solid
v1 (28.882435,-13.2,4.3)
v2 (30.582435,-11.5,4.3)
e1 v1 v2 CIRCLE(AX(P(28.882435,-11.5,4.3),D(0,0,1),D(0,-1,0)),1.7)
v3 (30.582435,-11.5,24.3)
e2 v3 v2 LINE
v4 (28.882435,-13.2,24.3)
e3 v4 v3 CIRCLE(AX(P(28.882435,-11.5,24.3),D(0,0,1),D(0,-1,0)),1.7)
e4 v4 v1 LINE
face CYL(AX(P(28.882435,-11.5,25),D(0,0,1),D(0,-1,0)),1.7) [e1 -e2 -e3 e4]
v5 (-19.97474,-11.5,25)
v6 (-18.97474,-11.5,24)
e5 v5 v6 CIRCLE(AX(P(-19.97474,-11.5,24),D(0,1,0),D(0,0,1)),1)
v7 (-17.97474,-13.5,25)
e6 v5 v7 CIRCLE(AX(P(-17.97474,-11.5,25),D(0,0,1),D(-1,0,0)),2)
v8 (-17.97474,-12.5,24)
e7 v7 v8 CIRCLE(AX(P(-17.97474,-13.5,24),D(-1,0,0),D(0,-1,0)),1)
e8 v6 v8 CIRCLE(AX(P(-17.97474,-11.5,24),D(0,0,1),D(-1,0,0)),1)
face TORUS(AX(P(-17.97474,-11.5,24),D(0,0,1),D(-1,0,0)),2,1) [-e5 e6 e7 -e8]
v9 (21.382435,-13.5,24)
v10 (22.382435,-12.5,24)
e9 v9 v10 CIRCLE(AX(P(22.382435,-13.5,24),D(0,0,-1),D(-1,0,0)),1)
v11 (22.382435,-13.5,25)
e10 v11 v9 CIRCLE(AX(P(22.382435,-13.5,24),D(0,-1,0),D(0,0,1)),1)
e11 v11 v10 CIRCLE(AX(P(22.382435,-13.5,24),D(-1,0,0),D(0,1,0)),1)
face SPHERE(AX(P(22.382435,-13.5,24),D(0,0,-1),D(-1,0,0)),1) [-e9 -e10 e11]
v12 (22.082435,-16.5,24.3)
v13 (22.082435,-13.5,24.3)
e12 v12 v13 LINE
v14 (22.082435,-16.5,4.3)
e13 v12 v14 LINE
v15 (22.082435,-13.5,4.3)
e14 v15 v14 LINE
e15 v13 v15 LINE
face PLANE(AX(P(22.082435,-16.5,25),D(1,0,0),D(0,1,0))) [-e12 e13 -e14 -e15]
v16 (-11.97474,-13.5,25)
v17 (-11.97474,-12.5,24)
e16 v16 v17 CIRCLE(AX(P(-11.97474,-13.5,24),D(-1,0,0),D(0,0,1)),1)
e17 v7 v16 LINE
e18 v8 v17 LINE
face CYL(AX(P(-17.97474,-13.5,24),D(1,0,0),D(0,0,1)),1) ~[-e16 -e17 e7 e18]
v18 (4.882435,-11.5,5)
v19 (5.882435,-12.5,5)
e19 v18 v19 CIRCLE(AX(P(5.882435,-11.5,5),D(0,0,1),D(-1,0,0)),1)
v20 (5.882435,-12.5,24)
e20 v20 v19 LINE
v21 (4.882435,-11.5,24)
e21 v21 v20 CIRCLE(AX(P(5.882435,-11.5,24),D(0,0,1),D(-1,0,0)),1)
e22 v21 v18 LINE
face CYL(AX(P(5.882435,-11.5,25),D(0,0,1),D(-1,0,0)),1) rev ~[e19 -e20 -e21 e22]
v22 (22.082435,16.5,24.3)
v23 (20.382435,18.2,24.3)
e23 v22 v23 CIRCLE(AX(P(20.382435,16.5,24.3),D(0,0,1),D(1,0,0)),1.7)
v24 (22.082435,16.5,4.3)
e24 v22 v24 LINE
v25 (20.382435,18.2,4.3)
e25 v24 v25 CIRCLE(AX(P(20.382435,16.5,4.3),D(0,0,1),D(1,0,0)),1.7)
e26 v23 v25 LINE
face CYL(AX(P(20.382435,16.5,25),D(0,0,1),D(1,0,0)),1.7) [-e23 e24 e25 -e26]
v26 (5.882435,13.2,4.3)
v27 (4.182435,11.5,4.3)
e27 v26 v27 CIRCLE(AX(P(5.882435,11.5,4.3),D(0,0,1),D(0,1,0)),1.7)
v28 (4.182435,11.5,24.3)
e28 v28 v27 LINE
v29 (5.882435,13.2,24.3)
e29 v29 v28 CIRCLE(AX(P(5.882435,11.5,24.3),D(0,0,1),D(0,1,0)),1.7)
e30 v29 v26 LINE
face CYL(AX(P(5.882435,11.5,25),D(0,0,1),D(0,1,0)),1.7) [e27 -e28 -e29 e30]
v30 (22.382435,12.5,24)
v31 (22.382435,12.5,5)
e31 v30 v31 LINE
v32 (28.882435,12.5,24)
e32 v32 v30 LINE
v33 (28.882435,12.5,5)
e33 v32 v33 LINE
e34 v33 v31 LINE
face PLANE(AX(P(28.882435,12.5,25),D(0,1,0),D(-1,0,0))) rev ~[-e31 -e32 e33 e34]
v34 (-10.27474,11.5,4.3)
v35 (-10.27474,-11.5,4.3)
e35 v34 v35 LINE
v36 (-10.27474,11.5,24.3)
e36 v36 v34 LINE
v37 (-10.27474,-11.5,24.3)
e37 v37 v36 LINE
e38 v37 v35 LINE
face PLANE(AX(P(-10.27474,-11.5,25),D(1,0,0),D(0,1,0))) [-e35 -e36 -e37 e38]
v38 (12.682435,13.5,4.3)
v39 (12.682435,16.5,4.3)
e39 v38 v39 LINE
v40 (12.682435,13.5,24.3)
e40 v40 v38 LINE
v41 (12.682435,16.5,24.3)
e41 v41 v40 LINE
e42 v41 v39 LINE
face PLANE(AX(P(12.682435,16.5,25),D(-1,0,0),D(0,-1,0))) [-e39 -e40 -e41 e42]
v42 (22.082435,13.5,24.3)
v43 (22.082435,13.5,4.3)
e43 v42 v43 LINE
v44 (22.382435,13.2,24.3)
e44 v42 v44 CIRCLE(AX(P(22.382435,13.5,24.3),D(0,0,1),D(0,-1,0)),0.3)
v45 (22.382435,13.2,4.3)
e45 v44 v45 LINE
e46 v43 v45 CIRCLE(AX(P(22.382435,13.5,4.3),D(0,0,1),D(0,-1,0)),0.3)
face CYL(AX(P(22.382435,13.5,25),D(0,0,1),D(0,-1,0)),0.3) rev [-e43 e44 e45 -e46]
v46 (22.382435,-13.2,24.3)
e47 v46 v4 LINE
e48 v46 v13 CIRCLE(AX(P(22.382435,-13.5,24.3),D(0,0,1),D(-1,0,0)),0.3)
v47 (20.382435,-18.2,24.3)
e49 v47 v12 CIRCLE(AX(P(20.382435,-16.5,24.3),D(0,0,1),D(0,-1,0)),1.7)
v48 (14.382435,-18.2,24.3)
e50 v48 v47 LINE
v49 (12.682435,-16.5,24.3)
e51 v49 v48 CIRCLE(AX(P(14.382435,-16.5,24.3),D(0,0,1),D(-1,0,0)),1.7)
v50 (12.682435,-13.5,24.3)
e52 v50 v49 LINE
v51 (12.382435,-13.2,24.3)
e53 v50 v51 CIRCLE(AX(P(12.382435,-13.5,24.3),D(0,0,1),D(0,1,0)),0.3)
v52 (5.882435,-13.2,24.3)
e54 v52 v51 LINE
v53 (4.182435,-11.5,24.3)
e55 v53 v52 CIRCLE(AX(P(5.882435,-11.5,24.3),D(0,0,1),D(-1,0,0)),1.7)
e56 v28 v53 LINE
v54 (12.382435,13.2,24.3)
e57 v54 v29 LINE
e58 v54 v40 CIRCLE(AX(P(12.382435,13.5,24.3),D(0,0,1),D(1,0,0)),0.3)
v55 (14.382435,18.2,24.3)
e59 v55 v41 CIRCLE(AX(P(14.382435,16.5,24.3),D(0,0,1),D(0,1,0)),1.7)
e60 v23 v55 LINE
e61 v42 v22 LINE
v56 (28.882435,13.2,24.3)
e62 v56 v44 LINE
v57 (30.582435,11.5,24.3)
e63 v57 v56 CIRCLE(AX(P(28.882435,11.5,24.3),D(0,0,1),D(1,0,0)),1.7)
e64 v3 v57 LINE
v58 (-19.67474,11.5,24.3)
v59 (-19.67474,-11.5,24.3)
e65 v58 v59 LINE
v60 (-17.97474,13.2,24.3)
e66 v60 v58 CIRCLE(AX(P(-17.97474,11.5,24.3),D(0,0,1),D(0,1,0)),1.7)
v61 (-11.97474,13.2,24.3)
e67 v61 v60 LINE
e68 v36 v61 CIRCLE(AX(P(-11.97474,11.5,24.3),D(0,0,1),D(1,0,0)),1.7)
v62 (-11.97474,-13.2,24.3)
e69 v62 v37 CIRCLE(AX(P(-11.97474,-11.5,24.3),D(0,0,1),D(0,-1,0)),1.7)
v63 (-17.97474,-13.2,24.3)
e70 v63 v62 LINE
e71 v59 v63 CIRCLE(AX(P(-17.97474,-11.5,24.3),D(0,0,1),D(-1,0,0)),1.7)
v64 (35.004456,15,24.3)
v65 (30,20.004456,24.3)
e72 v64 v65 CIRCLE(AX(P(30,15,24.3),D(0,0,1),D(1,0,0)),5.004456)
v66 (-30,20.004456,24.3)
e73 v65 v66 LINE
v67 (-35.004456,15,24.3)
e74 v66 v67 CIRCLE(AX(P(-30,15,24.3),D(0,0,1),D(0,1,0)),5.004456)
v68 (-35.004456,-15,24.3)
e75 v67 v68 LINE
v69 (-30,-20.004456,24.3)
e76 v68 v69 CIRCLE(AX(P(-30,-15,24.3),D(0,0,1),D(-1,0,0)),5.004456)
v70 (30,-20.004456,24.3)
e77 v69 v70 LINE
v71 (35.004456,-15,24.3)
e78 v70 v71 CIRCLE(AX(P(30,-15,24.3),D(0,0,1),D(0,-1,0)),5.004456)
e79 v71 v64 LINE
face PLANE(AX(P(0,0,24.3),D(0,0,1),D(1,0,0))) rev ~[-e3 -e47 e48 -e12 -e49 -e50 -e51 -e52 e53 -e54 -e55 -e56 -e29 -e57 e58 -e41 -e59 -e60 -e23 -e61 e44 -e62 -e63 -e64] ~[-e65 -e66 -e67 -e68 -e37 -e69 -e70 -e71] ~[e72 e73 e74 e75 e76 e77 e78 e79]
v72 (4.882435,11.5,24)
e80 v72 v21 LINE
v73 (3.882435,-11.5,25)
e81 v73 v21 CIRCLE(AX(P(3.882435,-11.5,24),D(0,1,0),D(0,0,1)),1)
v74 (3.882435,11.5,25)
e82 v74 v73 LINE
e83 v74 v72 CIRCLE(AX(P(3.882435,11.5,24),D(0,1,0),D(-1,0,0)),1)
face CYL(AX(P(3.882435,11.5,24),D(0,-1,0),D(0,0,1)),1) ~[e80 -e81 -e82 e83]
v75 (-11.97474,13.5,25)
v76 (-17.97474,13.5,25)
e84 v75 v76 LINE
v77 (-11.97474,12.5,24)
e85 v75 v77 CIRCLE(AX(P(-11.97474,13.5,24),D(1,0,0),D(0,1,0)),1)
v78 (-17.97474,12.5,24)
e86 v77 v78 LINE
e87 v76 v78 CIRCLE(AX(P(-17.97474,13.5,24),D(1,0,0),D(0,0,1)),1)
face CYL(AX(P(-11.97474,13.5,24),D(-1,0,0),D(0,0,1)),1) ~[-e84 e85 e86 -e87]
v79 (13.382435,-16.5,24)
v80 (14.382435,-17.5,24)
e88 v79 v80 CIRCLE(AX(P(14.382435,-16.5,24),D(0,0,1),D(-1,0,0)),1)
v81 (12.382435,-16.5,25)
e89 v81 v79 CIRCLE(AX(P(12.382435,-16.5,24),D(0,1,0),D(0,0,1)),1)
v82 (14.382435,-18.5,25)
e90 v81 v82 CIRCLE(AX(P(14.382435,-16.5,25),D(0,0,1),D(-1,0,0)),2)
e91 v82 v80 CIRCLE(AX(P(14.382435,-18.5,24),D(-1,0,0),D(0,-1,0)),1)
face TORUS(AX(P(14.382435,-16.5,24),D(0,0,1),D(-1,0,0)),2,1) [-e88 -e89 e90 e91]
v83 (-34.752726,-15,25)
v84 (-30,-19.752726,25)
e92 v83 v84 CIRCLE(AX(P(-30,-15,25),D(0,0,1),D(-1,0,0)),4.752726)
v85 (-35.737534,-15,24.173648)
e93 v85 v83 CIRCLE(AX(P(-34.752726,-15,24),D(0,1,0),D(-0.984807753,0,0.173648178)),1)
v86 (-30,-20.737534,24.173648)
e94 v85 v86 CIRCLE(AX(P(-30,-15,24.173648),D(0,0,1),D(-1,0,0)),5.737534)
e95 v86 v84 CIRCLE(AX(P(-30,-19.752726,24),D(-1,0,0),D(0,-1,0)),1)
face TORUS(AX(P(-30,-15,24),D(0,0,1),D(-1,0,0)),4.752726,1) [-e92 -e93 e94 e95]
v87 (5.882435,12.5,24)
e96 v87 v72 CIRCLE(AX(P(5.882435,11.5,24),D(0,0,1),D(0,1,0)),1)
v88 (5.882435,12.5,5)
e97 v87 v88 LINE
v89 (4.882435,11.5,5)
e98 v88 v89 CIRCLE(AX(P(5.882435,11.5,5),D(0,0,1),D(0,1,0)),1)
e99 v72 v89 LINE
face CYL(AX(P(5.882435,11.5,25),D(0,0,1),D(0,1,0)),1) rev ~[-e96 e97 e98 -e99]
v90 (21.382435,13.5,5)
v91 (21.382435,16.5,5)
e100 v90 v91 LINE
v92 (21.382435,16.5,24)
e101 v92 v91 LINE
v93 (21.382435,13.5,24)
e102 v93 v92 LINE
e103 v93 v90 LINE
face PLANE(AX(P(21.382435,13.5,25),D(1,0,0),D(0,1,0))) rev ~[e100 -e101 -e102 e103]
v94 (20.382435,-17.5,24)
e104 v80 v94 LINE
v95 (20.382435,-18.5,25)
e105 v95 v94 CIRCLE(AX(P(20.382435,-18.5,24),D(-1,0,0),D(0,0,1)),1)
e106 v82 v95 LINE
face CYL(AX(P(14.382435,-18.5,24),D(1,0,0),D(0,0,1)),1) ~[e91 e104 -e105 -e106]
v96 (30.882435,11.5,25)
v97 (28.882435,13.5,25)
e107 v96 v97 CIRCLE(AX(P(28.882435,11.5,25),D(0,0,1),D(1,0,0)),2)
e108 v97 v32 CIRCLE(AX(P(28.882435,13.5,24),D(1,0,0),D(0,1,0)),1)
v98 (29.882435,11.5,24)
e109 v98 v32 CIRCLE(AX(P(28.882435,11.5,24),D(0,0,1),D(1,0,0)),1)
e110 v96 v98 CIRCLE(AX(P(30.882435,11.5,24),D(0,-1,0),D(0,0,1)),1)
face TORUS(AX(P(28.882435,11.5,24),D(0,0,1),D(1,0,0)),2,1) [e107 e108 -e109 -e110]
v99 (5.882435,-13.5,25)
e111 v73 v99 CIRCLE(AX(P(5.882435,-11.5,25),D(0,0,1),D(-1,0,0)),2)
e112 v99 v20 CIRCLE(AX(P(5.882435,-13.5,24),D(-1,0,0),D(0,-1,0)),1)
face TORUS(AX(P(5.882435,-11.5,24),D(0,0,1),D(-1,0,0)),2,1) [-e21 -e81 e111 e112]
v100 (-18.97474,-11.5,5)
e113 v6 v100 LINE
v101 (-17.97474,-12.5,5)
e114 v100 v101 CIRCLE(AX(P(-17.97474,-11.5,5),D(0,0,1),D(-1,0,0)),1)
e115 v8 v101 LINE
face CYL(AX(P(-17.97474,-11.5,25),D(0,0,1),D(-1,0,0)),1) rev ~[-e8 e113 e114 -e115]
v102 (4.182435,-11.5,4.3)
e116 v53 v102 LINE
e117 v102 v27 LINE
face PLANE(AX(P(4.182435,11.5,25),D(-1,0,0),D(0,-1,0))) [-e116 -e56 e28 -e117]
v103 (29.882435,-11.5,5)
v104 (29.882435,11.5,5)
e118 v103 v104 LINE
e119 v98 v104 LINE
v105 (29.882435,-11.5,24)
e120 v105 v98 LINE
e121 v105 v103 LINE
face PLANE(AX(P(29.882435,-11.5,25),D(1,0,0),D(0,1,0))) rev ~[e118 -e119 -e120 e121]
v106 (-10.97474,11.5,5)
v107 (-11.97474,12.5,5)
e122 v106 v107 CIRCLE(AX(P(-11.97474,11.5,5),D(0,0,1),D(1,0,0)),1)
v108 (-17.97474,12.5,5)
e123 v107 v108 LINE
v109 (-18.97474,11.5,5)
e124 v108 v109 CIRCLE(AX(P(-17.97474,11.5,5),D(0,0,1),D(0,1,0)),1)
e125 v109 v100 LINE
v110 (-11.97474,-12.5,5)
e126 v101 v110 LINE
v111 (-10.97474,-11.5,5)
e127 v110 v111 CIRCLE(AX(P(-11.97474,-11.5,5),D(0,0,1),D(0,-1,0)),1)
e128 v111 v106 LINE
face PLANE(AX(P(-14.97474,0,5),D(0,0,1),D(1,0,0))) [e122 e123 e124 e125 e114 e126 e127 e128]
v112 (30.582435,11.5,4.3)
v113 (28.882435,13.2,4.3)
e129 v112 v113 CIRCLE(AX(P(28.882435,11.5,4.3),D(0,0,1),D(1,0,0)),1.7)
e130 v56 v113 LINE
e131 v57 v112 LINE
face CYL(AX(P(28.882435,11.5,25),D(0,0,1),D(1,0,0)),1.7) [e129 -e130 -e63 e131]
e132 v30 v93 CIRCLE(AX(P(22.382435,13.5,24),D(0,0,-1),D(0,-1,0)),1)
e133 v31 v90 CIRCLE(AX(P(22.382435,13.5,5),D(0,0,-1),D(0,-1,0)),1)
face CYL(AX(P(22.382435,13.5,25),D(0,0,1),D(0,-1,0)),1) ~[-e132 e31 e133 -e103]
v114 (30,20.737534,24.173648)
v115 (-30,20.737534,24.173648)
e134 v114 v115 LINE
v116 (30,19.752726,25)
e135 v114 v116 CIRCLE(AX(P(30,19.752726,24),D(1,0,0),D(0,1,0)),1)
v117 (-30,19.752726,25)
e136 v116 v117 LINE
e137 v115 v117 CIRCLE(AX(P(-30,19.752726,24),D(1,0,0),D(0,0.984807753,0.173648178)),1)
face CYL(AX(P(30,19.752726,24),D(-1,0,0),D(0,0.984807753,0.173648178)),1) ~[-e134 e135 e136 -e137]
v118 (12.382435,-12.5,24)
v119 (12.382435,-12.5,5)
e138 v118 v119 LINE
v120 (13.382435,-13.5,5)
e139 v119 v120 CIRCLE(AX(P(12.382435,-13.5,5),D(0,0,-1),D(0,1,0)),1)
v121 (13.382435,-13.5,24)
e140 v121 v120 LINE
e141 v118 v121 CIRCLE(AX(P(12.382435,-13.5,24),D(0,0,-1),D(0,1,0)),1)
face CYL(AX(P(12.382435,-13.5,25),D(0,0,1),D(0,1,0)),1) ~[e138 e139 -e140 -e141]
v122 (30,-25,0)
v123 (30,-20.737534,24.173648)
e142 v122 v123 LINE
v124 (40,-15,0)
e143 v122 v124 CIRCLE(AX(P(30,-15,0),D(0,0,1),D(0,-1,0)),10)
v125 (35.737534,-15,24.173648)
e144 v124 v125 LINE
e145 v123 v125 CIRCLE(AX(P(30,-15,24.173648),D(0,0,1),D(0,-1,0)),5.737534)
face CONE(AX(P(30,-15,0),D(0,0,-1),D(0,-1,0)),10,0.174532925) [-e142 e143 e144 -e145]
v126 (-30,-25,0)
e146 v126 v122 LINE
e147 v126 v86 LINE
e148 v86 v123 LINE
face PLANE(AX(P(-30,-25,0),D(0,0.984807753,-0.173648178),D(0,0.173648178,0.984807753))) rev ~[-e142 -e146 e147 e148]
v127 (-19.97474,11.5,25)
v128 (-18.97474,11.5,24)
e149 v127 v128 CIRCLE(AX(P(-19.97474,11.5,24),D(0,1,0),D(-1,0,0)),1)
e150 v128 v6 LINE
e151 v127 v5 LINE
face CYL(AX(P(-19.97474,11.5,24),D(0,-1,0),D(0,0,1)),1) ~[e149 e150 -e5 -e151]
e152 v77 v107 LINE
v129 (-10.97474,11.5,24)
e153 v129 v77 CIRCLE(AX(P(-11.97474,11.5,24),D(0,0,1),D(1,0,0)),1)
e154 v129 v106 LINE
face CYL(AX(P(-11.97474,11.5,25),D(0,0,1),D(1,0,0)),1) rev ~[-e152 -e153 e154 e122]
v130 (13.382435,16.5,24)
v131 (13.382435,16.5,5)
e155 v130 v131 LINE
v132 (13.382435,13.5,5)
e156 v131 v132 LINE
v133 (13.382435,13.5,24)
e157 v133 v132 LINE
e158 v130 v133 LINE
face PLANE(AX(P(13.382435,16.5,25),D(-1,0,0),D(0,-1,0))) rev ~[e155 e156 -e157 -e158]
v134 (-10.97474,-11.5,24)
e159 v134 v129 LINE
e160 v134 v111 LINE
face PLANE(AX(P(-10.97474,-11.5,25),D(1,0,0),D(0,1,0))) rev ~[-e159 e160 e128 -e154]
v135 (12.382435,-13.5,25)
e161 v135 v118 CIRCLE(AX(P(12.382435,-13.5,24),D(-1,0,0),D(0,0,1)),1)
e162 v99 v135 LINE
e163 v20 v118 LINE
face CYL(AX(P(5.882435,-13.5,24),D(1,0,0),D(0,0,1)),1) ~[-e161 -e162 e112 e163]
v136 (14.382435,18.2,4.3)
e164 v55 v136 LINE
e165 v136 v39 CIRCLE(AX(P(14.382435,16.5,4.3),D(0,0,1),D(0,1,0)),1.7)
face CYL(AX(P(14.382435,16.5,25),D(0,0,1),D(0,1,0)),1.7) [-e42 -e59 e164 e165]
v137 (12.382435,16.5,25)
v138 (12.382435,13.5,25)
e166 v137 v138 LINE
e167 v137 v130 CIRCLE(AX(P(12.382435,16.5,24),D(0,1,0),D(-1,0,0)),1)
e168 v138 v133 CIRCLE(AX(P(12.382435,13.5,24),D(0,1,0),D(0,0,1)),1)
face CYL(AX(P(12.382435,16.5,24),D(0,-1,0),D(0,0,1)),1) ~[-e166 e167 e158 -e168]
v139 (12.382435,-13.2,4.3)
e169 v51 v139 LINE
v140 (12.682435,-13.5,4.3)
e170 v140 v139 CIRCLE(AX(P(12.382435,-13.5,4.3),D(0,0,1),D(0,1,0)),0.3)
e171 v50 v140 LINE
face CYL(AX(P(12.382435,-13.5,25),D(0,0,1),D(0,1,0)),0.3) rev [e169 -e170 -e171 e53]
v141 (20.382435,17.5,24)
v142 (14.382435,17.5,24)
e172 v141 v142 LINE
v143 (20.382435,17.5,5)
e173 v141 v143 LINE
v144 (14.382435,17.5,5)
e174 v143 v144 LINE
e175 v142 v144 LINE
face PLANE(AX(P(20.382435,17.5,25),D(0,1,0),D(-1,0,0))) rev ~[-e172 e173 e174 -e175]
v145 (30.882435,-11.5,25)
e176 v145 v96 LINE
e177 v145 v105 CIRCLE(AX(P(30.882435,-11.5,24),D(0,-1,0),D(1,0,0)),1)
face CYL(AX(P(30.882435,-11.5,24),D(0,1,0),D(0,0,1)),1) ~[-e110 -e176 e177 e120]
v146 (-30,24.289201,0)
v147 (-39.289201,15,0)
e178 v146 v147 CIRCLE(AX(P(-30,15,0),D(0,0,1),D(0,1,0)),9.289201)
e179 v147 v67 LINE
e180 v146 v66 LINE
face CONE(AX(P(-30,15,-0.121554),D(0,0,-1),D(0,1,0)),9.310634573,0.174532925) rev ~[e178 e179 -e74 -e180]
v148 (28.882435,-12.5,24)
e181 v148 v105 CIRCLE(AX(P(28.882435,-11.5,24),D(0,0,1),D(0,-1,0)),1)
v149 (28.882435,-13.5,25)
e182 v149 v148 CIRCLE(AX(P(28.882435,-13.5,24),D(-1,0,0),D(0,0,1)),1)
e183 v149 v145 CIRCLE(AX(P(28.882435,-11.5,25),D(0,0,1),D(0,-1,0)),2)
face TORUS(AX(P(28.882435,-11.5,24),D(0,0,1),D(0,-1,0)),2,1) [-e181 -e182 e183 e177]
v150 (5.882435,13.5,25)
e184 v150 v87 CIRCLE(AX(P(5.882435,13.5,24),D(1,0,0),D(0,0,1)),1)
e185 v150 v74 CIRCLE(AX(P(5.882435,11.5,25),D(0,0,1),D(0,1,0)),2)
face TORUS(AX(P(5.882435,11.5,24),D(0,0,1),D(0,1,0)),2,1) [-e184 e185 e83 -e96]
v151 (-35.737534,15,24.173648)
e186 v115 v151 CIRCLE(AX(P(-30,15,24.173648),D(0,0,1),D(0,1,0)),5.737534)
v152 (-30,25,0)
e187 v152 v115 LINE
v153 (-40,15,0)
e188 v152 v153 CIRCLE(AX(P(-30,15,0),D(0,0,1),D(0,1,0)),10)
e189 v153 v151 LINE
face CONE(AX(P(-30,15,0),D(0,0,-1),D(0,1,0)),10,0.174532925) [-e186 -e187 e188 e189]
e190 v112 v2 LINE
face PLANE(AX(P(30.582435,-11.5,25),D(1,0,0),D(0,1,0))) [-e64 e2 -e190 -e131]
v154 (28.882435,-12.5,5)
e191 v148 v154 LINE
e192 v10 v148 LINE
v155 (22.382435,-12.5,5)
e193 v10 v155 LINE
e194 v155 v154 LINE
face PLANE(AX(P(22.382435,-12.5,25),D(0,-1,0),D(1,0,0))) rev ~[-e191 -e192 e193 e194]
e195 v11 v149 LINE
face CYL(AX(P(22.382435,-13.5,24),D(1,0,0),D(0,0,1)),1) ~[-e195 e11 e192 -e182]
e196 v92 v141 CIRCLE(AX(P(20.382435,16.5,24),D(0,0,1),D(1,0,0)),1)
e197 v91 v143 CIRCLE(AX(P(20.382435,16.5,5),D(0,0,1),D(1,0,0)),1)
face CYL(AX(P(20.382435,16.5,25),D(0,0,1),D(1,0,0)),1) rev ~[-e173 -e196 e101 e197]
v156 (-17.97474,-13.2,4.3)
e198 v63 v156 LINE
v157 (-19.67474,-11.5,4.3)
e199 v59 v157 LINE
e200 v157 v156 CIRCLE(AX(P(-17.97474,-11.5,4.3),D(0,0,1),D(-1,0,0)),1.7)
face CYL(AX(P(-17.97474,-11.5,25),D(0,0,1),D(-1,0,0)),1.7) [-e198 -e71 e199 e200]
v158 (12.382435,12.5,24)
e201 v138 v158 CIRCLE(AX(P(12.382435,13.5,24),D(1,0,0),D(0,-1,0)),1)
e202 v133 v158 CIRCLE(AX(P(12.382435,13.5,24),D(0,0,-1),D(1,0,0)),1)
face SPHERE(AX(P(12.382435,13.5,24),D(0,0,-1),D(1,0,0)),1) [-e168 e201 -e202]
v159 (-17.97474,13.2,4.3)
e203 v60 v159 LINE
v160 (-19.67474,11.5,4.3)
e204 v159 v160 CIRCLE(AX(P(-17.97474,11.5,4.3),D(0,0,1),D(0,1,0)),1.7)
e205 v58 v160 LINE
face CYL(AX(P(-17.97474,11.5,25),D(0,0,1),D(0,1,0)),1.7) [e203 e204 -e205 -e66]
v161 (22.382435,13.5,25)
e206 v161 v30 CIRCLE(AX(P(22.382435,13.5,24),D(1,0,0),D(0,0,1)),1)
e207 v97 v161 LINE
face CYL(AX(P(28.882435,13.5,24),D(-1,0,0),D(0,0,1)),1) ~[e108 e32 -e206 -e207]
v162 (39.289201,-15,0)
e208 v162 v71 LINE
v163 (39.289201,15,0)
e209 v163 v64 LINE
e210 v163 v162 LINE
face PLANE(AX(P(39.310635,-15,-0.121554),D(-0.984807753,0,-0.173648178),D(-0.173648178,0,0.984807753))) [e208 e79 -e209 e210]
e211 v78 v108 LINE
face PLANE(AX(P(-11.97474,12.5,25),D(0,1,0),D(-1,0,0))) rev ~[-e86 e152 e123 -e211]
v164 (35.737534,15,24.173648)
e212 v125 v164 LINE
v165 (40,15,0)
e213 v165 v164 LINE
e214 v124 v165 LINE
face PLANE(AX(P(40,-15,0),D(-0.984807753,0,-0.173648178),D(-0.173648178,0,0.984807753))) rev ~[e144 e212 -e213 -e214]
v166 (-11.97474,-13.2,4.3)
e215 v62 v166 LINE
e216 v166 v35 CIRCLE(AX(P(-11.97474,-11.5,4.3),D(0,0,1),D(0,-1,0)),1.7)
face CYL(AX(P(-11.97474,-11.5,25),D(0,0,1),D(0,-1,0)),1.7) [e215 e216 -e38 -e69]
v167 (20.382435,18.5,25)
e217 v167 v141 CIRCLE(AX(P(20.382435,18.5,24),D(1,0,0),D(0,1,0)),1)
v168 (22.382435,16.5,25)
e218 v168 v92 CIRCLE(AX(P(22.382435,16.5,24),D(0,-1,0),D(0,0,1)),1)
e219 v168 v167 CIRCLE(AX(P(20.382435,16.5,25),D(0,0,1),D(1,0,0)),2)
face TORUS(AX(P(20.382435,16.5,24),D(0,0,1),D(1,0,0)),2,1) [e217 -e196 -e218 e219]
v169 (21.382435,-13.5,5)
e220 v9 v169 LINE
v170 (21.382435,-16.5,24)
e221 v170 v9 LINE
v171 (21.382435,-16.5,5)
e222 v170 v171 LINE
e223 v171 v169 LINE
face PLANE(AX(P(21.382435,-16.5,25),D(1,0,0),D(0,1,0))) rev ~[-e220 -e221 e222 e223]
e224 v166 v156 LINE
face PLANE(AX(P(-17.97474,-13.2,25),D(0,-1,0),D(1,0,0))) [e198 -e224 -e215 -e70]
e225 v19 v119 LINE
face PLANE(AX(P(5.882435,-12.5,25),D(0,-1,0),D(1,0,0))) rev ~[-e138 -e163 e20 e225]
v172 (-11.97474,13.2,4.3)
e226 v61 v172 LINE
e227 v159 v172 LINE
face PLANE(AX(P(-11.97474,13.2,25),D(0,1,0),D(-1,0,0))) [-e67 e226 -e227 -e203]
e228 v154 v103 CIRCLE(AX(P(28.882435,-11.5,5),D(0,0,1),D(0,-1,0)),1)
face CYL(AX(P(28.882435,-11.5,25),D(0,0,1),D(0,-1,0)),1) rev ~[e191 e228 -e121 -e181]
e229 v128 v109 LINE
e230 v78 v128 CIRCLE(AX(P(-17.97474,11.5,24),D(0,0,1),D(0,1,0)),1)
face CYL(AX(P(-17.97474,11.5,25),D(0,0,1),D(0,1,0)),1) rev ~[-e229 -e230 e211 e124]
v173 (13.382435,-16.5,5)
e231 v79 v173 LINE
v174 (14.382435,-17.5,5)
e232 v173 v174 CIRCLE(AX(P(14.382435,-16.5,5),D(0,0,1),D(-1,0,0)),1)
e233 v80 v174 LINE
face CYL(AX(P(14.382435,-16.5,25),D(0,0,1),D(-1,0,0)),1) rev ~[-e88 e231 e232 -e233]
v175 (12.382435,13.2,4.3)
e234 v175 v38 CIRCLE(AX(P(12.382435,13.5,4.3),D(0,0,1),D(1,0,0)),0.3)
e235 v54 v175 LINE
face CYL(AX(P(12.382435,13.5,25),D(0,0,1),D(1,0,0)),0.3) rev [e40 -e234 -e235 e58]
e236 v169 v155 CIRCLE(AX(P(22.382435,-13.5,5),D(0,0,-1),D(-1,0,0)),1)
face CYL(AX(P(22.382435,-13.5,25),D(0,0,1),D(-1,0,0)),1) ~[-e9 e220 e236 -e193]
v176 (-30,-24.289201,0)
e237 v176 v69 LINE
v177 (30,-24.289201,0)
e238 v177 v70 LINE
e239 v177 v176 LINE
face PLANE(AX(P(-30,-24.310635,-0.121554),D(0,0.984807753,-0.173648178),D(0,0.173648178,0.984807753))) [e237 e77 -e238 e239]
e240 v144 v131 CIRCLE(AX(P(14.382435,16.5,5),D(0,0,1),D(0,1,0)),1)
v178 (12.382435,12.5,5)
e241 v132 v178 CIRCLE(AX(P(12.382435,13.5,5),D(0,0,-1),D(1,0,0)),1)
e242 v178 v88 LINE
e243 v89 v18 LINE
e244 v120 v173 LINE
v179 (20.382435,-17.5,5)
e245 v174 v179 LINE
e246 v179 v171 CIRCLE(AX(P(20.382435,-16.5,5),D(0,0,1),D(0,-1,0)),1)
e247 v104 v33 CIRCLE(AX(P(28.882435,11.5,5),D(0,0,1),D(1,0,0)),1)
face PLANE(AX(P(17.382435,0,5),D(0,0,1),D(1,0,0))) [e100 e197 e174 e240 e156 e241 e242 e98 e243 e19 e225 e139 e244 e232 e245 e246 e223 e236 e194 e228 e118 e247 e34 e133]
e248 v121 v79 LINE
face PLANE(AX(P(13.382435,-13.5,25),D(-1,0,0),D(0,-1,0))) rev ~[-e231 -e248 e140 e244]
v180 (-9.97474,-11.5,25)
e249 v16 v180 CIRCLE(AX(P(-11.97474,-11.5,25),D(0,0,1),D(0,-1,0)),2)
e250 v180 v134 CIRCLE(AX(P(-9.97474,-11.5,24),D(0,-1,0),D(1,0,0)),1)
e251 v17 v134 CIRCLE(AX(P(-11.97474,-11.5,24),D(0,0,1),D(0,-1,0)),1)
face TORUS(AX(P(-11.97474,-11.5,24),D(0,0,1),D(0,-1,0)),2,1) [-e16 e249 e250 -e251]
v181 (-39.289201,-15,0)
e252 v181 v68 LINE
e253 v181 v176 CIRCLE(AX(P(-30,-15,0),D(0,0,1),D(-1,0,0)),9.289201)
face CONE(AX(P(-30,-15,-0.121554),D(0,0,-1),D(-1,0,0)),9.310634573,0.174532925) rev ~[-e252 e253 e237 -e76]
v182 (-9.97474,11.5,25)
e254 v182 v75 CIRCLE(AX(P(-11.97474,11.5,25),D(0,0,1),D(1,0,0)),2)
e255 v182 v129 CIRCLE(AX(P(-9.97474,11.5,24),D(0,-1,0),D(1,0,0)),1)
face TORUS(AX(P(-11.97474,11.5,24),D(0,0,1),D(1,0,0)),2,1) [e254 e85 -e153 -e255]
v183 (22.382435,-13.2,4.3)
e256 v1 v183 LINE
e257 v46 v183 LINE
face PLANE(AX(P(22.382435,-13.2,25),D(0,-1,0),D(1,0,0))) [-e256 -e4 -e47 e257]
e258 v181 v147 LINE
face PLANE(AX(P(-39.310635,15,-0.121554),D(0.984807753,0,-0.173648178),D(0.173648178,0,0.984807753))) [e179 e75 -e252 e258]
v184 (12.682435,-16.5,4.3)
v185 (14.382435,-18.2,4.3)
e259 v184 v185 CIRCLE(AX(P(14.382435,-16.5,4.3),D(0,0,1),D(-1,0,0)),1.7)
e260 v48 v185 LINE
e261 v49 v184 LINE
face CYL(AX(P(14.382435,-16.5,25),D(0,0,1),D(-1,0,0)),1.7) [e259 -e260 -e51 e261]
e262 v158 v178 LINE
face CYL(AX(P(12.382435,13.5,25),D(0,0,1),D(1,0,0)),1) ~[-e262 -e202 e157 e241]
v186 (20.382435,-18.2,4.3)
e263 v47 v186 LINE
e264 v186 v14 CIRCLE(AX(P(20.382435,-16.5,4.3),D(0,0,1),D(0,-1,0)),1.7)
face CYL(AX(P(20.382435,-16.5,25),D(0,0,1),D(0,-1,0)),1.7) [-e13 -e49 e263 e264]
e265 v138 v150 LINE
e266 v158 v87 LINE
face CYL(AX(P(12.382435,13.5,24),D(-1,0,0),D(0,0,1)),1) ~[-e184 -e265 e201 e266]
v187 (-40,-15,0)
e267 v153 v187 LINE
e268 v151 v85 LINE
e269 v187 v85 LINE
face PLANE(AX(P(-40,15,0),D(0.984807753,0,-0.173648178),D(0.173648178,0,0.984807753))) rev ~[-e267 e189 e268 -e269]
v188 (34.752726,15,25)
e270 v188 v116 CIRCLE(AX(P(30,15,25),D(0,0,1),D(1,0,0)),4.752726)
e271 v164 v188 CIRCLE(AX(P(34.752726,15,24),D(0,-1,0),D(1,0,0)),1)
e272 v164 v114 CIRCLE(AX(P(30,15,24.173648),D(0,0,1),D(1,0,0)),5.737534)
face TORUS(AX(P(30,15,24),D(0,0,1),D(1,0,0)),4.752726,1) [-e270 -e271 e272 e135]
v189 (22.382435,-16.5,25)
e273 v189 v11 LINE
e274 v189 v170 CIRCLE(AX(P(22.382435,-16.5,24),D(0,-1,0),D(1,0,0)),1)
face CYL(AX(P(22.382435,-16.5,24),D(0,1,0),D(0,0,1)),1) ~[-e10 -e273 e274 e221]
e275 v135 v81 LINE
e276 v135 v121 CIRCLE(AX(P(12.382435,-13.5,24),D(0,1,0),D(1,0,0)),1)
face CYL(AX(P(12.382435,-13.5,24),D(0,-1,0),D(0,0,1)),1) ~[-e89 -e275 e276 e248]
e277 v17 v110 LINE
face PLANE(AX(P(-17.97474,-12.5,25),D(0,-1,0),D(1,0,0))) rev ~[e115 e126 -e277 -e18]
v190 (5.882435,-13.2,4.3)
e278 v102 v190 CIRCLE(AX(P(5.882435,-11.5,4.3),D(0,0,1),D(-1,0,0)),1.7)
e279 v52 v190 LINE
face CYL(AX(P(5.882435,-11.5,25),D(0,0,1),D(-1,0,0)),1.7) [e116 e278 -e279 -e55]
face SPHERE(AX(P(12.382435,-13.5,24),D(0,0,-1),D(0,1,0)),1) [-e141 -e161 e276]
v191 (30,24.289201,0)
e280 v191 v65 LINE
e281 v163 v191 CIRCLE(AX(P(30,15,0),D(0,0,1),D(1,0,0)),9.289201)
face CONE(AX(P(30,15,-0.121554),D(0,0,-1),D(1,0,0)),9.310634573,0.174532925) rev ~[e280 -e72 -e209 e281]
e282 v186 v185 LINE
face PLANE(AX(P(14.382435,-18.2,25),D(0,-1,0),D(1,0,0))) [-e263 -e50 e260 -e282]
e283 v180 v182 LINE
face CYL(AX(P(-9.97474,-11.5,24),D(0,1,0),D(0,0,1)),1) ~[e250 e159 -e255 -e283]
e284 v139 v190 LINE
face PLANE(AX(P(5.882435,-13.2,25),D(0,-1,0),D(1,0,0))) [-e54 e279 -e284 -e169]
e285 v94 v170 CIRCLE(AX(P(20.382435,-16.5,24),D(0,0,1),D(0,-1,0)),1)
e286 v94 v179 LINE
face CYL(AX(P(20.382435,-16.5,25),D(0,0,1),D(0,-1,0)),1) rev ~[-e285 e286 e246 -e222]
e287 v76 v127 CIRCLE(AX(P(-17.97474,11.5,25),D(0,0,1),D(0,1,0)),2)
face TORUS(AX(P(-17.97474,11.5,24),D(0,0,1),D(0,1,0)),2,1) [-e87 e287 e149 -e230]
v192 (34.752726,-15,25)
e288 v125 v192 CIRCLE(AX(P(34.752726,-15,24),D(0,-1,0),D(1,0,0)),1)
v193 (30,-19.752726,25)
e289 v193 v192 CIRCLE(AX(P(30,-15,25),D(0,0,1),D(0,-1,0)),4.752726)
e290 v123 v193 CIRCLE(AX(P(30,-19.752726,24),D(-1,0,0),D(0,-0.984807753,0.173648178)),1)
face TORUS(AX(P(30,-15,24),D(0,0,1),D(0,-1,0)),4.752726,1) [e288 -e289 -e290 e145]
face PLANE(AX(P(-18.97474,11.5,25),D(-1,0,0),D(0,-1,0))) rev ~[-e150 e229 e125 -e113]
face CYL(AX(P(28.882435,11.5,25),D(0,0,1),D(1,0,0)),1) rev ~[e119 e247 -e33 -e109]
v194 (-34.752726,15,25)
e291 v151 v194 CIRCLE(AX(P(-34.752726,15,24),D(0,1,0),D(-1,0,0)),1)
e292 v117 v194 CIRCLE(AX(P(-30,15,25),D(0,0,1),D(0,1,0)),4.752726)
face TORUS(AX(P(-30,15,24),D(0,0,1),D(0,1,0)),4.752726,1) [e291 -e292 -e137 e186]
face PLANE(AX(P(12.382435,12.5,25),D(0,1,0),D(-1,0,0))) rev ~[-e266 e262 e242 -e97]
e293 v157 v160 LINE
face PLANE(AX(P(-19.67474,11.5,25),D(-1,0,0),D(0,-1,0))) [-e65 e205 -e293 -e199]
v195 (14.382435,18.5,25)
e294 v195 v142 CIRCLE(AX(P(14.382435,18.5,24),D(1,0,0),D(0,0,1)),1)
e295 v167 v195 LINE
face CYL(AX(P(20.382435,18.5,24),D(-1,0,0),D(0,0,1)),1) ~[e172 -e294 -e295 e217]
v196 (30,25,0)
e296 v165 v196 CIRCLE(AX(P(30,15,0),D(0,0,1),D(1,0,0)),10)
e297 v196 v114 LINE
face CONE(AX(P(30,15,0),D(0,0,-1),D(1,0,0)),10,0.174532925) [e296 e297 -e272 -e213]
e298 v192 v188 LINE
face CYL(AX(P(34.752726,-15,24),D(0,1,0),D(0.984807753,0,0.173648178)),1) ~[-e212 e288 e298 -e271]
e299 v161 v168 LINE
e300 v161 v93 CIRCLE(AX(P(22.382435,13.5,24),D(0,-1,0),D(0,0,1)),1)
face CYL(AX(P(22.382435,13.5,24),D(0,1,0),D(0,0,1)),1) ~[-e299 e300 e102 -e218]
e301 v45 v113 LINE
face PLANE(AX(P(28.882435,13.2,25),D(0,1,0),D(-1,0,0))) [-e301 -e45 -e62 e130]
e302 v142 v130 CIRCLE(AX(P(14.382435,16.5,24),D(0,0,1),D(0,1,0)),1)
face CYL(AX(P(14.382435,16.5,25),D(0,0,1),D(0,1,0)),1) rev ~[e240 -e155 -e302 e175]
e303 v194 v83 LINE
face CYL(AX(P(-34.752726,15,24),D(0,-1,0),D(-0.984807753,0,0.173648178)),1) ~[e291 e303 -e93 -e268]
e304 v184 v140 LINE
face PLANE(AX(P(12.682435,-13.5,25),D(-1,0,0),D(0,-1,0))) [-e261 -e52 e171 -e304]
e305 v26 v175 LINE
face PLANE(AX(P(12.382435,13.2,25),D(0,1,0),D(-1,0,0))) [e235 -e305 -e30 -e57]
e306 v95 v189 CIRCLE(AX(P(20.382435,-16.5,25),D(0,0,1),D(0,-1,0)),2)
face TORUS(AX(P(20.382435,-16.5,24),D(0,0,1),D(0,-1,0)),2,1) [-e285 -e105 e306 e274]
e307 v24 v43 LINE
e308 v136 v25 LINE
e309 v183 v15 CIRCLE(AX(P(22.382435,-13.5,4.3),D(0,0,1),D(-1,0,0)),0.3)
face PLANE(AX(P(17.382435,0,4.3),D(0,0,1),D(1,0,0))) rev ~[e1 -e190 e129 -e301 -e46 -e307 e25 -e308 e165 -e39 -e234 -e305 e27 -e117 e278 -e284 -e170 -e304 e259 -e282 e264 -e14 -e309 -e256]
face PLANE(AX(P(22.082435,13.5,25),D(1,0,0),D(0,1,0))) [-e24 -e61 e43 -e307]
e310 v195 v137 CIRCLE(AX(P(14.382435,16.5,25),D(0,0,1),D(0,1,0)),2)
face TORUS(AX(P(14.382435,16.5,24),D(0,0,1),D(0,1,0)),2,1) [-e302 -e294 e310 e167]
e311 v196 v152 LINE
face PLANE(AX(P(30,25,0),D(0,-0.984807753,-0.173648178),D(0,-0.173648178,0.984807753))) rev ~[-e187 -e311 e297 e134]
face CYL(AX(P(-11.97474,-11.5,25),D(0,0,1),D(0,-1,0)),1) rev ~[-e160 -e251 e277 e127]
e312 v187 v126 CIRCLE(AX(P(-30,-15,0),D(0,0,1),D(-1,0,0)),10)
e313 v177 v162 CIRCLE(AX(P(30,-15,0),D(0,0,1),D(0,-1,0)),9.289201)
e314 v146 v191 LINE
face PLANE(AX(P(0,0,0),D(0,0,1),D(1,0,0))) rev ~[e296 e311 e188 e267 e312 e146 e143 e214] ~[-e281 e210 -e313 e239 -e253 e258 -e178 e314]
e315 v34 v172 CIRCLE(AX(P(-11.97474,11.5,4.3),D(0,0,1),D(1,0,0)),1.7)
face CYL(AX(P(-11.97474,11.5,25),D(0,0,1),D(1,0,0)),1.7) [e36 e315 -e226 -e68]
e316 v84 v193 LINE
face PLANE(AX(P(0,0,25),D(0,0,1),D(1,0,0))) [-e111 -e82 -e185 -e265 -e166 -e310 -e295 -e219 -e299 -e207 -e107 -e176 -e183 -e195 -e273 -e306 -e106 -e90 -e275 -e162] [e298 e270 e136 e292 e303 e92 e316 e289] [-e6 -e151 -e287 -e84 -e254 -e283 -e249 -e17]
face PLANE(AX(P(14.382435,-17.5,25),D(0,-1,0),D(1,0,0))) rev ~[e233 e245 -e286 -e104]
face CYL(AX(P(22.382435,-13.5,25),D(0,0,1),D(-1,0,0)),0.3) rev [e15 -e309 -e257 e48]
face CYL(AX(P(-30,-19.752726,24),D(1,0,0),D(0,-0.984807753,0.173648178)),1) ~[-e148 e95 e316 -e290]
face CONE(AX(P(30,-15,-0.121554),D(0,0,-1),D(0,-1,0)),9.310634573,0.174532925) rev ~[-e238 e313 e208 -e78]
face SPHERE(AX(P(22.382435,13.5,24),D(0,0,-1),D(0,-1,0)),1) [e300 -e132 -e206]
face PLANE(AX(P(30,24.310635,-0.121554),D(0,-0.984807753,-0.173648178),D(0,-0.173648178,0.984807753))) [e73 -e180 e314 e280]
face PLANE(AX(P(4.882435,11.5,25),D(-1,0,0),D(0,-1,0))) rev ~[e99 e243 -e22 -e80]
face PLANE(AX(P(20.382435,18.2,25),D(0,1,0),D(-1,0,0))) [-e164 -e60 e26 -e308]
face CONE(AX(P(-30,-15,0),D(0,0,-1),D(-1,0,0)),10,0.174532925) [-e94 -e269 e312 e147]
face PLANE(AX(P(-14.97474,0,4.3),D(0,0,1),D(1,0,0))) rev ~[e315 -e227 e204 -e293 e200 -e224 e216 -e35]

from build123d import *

# Parameters (mm, degrees)
F1_DEPTH = 25
F1_TAPER = 10
F4_DEPTH = 20
F5_DEPTH = 20
F6_T     = -0.7
F7_R     = 1


with BuildPart() as f1:
    # F0 (on Top) → F1 (new body)
    with BuildSketch(Plane.XY):
        with BuildLine():
            ThreePointArc((40, 15), (37.0710678119, 22.0710678119), (30, 25))
            Line((30, 25), (-30, 25))
            ThreePointArc((-30, 25), (-37.0710678119, 22.0710678119), (-40, 15))
            Line((-40, 15), (-40, -15))
            ThreePointArc((-40, -15), (-37.0710678119, -22.0710678119), (-30, -25))
            Line((-30, -25), (30, -25))
            ThreePointArc((30, -25), (37.0710678119, -22.0710678119), (40, -15))
            Line((40, -15), (40, 15))
        make_face()
    extrude(amount=F1_DEPTH, taper=F1_TAPER)

    # F2 (on face) → F4 (cut)
    with BuildSketch(Plane.XY.offset(25)):
        with BuildLine():
            Line((20.3824352339, 17.5), (14.3824352339, 17.5))
            ThreePointArc((14.3824352339, 17.5), (13.6753284527, 17.2071067812), (13.3824352339, 16.5))
            Line((13.3824352339, 16.5), (13.3824352339, 13.5))
            ThreePointArc((13.3824352339, 13.5), (13.0895420151, 12.7928932188), (12.3824352339, 12.5))
            Line((12.3824352339, 12.5), (5.8824352339, 12.5))
            ThreePointArc((5.8824352339, 12.5), (5.1753284527, 12.2071067812), (4.8824352339, 11.5))
            Line((4.8824352339, 11.5), (4.8824352339, -11.5))
            ThreePointArc((4.8824352339, -11.5), (5.1753284527, -12.2071067812), (5.8824352339, -12.5))
            Line((5.8824352339, -12.5), (12.3824352339, -12.5))
            ThreePointArc((12.3824352339, -12.5), (13.0895420151, -12.7928932188), (13.3824352339, -13.5))
            Line((13.3824352339, -13.5), (13.3824352339, -16.5))
            ThreePointArc((13.3824352339, -16.5), (13.6753284527, -17.2071067812), (14.3824352339, -17.5))
            Line((14.3824352339, -17.5), (20.3824352339, -17.5))
            ThreePointArc((20.3824352339, -17.5), (21.0895420151, -17.2071067812), (21.3824352339, -16.5))
            Line((21.3824352339, -16.5), (21.3824352339, -13.5))
            ThreePointArc((21.3824352339, -13.5), (21.6753284527, -12.7928932188), (22.3824352339, -12.5))
            Line((22.3824352339, -12.5), (28.8824352339, -12.5))
            ThreePointArc((28.8824352339, -12.5), (29.5895420151, -12.2071067812), (29.8824352339, -11.5))
            Line((29.8824352339, -11.5), (29.8824352339, 11.5))
            ThreePointArc((29.8824352339, 11.5), (29.5895420151, 12.2071067812), (28.8824352339, 12.5))
            Line((28.8824352339, 12.5), (22.3824352339, 12.5))
            ThreePointArc((22.3824352339, 12.5), (21.6753284527, 12.7928932188), (21.3824352339, 13.5))
            Line((21.3824352339, 13.5), (21.3824352339, 16.5))
            ThreePointArc((21.3824352339, 16.5), (21.0895420151, 17.2071067812), (20.3824352339, 17.5))
        make_face()
    extrude(amount=-F4_DEPTH, mode=Mode.SUBTRACT)

    # F3 (on face) → F5 (cut)
    with BuildSketch(Plane.XY.offset(25)):
        with BuildLine():
            Line((-11.9747403339, 12.5), (-17.9747403339, 12.5))
            ThreePointArc((-17.9747403339, 12.5), (-18.681847115, 12.2071067812), (-18.9747403339, 11.5))
            Line((-18.9747403339, 11.5), (-18.9747403339, -11.5))
            ThreePointArc((-18.9747403339, -11.5), (-18.681847115, -12.2071067812), (-17.9747403339, -12.5))
            Line((-17.9747403339, -12.5), (-11.9747403339, -12.5))
            ThreePointArc((-11.9747403339, -12.5), (-11.2676335527, -12.2071067812), (-10.9747403339, -11.5))
            Line((-10.9747403339, -11.5), (-10.9747403339, 11.5))
            ThreePointArc((-10.9747403339, 11.5), (-11.2676335527, 12.2071067812), (-11.9747403339, 12.5))
        make_face()
    extrude(amount=-F5_DEPTH, mode=Mode.SUBTRACT)

    # F6
    f6_openings = [f1.faces().sort_by_distance(p)[0] for p in [
        (0, 0, 0),
    ]]
    offset(amount=F6_T, openings=f6_openings, kind=Kind.INTERSECTION)

    # F7
    f7_edges = [f1.edges().sort_by_distance(p)[0] for p in [
        (33.954018, 18.954018, 25),
        (35.591825, 0, 25),
        (0, 20.591825, 25),
        (33.954018, -18.954018, 25),
        (-33.954018, 18.954018, 25),
        (0, -20.591825, 25),
        (-35.591825, 0, 25),
        (-33.954018, -18.954018, 25),
        (-11.267634, 12.207107, 25),
        (-14.97474, 12.5, 25),
        (-18.681847, 12.207107, 25),
        (-18.97474, 0, 25),
        (-18.681847, -12.207107, 25),
        (-14.97474, -12.5, 25),
        (-11.267634, -12.207107, 25),
        (-10.97474, 0, 25),
        (21.382435, 15, 25),
        (21.675328, 12.792893, 25),
        (21.089542, 17.207107, 25),
        (25.632435, 12.5, 25),
        (17.382435, 17.5, 25),
        (29.589542, 12.207107, 25),
        (13.675328, 17.207107, 25),
        (29.882435, 0, 25),
        (13.382435, 15, 25),
        (29.589542, -12.207107, 25),
        (13.089542, 12.792893, 25),
        (25.632435, -12.5, 25),
        (9.132435, 12.5, 25),
        (21.675328, -12.792893, 25),
        (5.175328, 12.207107, 25),
        (21.382435, -15, 25),
        (4.882435, 0, 25),
        (21.089542, -17.207107, 25),
        (5.175328, -12.207107, 25),
        (17.382435, -17.5, 25),
        (9.132435, -12.5, 25),
        (13.675328, -17.207107, 25),
        (13.089542, -12.792893, 25),
        (13.382435, -15, 25),
    ]]
    fillet(f7_edges, radius=F7_R)


solid = f1.part
